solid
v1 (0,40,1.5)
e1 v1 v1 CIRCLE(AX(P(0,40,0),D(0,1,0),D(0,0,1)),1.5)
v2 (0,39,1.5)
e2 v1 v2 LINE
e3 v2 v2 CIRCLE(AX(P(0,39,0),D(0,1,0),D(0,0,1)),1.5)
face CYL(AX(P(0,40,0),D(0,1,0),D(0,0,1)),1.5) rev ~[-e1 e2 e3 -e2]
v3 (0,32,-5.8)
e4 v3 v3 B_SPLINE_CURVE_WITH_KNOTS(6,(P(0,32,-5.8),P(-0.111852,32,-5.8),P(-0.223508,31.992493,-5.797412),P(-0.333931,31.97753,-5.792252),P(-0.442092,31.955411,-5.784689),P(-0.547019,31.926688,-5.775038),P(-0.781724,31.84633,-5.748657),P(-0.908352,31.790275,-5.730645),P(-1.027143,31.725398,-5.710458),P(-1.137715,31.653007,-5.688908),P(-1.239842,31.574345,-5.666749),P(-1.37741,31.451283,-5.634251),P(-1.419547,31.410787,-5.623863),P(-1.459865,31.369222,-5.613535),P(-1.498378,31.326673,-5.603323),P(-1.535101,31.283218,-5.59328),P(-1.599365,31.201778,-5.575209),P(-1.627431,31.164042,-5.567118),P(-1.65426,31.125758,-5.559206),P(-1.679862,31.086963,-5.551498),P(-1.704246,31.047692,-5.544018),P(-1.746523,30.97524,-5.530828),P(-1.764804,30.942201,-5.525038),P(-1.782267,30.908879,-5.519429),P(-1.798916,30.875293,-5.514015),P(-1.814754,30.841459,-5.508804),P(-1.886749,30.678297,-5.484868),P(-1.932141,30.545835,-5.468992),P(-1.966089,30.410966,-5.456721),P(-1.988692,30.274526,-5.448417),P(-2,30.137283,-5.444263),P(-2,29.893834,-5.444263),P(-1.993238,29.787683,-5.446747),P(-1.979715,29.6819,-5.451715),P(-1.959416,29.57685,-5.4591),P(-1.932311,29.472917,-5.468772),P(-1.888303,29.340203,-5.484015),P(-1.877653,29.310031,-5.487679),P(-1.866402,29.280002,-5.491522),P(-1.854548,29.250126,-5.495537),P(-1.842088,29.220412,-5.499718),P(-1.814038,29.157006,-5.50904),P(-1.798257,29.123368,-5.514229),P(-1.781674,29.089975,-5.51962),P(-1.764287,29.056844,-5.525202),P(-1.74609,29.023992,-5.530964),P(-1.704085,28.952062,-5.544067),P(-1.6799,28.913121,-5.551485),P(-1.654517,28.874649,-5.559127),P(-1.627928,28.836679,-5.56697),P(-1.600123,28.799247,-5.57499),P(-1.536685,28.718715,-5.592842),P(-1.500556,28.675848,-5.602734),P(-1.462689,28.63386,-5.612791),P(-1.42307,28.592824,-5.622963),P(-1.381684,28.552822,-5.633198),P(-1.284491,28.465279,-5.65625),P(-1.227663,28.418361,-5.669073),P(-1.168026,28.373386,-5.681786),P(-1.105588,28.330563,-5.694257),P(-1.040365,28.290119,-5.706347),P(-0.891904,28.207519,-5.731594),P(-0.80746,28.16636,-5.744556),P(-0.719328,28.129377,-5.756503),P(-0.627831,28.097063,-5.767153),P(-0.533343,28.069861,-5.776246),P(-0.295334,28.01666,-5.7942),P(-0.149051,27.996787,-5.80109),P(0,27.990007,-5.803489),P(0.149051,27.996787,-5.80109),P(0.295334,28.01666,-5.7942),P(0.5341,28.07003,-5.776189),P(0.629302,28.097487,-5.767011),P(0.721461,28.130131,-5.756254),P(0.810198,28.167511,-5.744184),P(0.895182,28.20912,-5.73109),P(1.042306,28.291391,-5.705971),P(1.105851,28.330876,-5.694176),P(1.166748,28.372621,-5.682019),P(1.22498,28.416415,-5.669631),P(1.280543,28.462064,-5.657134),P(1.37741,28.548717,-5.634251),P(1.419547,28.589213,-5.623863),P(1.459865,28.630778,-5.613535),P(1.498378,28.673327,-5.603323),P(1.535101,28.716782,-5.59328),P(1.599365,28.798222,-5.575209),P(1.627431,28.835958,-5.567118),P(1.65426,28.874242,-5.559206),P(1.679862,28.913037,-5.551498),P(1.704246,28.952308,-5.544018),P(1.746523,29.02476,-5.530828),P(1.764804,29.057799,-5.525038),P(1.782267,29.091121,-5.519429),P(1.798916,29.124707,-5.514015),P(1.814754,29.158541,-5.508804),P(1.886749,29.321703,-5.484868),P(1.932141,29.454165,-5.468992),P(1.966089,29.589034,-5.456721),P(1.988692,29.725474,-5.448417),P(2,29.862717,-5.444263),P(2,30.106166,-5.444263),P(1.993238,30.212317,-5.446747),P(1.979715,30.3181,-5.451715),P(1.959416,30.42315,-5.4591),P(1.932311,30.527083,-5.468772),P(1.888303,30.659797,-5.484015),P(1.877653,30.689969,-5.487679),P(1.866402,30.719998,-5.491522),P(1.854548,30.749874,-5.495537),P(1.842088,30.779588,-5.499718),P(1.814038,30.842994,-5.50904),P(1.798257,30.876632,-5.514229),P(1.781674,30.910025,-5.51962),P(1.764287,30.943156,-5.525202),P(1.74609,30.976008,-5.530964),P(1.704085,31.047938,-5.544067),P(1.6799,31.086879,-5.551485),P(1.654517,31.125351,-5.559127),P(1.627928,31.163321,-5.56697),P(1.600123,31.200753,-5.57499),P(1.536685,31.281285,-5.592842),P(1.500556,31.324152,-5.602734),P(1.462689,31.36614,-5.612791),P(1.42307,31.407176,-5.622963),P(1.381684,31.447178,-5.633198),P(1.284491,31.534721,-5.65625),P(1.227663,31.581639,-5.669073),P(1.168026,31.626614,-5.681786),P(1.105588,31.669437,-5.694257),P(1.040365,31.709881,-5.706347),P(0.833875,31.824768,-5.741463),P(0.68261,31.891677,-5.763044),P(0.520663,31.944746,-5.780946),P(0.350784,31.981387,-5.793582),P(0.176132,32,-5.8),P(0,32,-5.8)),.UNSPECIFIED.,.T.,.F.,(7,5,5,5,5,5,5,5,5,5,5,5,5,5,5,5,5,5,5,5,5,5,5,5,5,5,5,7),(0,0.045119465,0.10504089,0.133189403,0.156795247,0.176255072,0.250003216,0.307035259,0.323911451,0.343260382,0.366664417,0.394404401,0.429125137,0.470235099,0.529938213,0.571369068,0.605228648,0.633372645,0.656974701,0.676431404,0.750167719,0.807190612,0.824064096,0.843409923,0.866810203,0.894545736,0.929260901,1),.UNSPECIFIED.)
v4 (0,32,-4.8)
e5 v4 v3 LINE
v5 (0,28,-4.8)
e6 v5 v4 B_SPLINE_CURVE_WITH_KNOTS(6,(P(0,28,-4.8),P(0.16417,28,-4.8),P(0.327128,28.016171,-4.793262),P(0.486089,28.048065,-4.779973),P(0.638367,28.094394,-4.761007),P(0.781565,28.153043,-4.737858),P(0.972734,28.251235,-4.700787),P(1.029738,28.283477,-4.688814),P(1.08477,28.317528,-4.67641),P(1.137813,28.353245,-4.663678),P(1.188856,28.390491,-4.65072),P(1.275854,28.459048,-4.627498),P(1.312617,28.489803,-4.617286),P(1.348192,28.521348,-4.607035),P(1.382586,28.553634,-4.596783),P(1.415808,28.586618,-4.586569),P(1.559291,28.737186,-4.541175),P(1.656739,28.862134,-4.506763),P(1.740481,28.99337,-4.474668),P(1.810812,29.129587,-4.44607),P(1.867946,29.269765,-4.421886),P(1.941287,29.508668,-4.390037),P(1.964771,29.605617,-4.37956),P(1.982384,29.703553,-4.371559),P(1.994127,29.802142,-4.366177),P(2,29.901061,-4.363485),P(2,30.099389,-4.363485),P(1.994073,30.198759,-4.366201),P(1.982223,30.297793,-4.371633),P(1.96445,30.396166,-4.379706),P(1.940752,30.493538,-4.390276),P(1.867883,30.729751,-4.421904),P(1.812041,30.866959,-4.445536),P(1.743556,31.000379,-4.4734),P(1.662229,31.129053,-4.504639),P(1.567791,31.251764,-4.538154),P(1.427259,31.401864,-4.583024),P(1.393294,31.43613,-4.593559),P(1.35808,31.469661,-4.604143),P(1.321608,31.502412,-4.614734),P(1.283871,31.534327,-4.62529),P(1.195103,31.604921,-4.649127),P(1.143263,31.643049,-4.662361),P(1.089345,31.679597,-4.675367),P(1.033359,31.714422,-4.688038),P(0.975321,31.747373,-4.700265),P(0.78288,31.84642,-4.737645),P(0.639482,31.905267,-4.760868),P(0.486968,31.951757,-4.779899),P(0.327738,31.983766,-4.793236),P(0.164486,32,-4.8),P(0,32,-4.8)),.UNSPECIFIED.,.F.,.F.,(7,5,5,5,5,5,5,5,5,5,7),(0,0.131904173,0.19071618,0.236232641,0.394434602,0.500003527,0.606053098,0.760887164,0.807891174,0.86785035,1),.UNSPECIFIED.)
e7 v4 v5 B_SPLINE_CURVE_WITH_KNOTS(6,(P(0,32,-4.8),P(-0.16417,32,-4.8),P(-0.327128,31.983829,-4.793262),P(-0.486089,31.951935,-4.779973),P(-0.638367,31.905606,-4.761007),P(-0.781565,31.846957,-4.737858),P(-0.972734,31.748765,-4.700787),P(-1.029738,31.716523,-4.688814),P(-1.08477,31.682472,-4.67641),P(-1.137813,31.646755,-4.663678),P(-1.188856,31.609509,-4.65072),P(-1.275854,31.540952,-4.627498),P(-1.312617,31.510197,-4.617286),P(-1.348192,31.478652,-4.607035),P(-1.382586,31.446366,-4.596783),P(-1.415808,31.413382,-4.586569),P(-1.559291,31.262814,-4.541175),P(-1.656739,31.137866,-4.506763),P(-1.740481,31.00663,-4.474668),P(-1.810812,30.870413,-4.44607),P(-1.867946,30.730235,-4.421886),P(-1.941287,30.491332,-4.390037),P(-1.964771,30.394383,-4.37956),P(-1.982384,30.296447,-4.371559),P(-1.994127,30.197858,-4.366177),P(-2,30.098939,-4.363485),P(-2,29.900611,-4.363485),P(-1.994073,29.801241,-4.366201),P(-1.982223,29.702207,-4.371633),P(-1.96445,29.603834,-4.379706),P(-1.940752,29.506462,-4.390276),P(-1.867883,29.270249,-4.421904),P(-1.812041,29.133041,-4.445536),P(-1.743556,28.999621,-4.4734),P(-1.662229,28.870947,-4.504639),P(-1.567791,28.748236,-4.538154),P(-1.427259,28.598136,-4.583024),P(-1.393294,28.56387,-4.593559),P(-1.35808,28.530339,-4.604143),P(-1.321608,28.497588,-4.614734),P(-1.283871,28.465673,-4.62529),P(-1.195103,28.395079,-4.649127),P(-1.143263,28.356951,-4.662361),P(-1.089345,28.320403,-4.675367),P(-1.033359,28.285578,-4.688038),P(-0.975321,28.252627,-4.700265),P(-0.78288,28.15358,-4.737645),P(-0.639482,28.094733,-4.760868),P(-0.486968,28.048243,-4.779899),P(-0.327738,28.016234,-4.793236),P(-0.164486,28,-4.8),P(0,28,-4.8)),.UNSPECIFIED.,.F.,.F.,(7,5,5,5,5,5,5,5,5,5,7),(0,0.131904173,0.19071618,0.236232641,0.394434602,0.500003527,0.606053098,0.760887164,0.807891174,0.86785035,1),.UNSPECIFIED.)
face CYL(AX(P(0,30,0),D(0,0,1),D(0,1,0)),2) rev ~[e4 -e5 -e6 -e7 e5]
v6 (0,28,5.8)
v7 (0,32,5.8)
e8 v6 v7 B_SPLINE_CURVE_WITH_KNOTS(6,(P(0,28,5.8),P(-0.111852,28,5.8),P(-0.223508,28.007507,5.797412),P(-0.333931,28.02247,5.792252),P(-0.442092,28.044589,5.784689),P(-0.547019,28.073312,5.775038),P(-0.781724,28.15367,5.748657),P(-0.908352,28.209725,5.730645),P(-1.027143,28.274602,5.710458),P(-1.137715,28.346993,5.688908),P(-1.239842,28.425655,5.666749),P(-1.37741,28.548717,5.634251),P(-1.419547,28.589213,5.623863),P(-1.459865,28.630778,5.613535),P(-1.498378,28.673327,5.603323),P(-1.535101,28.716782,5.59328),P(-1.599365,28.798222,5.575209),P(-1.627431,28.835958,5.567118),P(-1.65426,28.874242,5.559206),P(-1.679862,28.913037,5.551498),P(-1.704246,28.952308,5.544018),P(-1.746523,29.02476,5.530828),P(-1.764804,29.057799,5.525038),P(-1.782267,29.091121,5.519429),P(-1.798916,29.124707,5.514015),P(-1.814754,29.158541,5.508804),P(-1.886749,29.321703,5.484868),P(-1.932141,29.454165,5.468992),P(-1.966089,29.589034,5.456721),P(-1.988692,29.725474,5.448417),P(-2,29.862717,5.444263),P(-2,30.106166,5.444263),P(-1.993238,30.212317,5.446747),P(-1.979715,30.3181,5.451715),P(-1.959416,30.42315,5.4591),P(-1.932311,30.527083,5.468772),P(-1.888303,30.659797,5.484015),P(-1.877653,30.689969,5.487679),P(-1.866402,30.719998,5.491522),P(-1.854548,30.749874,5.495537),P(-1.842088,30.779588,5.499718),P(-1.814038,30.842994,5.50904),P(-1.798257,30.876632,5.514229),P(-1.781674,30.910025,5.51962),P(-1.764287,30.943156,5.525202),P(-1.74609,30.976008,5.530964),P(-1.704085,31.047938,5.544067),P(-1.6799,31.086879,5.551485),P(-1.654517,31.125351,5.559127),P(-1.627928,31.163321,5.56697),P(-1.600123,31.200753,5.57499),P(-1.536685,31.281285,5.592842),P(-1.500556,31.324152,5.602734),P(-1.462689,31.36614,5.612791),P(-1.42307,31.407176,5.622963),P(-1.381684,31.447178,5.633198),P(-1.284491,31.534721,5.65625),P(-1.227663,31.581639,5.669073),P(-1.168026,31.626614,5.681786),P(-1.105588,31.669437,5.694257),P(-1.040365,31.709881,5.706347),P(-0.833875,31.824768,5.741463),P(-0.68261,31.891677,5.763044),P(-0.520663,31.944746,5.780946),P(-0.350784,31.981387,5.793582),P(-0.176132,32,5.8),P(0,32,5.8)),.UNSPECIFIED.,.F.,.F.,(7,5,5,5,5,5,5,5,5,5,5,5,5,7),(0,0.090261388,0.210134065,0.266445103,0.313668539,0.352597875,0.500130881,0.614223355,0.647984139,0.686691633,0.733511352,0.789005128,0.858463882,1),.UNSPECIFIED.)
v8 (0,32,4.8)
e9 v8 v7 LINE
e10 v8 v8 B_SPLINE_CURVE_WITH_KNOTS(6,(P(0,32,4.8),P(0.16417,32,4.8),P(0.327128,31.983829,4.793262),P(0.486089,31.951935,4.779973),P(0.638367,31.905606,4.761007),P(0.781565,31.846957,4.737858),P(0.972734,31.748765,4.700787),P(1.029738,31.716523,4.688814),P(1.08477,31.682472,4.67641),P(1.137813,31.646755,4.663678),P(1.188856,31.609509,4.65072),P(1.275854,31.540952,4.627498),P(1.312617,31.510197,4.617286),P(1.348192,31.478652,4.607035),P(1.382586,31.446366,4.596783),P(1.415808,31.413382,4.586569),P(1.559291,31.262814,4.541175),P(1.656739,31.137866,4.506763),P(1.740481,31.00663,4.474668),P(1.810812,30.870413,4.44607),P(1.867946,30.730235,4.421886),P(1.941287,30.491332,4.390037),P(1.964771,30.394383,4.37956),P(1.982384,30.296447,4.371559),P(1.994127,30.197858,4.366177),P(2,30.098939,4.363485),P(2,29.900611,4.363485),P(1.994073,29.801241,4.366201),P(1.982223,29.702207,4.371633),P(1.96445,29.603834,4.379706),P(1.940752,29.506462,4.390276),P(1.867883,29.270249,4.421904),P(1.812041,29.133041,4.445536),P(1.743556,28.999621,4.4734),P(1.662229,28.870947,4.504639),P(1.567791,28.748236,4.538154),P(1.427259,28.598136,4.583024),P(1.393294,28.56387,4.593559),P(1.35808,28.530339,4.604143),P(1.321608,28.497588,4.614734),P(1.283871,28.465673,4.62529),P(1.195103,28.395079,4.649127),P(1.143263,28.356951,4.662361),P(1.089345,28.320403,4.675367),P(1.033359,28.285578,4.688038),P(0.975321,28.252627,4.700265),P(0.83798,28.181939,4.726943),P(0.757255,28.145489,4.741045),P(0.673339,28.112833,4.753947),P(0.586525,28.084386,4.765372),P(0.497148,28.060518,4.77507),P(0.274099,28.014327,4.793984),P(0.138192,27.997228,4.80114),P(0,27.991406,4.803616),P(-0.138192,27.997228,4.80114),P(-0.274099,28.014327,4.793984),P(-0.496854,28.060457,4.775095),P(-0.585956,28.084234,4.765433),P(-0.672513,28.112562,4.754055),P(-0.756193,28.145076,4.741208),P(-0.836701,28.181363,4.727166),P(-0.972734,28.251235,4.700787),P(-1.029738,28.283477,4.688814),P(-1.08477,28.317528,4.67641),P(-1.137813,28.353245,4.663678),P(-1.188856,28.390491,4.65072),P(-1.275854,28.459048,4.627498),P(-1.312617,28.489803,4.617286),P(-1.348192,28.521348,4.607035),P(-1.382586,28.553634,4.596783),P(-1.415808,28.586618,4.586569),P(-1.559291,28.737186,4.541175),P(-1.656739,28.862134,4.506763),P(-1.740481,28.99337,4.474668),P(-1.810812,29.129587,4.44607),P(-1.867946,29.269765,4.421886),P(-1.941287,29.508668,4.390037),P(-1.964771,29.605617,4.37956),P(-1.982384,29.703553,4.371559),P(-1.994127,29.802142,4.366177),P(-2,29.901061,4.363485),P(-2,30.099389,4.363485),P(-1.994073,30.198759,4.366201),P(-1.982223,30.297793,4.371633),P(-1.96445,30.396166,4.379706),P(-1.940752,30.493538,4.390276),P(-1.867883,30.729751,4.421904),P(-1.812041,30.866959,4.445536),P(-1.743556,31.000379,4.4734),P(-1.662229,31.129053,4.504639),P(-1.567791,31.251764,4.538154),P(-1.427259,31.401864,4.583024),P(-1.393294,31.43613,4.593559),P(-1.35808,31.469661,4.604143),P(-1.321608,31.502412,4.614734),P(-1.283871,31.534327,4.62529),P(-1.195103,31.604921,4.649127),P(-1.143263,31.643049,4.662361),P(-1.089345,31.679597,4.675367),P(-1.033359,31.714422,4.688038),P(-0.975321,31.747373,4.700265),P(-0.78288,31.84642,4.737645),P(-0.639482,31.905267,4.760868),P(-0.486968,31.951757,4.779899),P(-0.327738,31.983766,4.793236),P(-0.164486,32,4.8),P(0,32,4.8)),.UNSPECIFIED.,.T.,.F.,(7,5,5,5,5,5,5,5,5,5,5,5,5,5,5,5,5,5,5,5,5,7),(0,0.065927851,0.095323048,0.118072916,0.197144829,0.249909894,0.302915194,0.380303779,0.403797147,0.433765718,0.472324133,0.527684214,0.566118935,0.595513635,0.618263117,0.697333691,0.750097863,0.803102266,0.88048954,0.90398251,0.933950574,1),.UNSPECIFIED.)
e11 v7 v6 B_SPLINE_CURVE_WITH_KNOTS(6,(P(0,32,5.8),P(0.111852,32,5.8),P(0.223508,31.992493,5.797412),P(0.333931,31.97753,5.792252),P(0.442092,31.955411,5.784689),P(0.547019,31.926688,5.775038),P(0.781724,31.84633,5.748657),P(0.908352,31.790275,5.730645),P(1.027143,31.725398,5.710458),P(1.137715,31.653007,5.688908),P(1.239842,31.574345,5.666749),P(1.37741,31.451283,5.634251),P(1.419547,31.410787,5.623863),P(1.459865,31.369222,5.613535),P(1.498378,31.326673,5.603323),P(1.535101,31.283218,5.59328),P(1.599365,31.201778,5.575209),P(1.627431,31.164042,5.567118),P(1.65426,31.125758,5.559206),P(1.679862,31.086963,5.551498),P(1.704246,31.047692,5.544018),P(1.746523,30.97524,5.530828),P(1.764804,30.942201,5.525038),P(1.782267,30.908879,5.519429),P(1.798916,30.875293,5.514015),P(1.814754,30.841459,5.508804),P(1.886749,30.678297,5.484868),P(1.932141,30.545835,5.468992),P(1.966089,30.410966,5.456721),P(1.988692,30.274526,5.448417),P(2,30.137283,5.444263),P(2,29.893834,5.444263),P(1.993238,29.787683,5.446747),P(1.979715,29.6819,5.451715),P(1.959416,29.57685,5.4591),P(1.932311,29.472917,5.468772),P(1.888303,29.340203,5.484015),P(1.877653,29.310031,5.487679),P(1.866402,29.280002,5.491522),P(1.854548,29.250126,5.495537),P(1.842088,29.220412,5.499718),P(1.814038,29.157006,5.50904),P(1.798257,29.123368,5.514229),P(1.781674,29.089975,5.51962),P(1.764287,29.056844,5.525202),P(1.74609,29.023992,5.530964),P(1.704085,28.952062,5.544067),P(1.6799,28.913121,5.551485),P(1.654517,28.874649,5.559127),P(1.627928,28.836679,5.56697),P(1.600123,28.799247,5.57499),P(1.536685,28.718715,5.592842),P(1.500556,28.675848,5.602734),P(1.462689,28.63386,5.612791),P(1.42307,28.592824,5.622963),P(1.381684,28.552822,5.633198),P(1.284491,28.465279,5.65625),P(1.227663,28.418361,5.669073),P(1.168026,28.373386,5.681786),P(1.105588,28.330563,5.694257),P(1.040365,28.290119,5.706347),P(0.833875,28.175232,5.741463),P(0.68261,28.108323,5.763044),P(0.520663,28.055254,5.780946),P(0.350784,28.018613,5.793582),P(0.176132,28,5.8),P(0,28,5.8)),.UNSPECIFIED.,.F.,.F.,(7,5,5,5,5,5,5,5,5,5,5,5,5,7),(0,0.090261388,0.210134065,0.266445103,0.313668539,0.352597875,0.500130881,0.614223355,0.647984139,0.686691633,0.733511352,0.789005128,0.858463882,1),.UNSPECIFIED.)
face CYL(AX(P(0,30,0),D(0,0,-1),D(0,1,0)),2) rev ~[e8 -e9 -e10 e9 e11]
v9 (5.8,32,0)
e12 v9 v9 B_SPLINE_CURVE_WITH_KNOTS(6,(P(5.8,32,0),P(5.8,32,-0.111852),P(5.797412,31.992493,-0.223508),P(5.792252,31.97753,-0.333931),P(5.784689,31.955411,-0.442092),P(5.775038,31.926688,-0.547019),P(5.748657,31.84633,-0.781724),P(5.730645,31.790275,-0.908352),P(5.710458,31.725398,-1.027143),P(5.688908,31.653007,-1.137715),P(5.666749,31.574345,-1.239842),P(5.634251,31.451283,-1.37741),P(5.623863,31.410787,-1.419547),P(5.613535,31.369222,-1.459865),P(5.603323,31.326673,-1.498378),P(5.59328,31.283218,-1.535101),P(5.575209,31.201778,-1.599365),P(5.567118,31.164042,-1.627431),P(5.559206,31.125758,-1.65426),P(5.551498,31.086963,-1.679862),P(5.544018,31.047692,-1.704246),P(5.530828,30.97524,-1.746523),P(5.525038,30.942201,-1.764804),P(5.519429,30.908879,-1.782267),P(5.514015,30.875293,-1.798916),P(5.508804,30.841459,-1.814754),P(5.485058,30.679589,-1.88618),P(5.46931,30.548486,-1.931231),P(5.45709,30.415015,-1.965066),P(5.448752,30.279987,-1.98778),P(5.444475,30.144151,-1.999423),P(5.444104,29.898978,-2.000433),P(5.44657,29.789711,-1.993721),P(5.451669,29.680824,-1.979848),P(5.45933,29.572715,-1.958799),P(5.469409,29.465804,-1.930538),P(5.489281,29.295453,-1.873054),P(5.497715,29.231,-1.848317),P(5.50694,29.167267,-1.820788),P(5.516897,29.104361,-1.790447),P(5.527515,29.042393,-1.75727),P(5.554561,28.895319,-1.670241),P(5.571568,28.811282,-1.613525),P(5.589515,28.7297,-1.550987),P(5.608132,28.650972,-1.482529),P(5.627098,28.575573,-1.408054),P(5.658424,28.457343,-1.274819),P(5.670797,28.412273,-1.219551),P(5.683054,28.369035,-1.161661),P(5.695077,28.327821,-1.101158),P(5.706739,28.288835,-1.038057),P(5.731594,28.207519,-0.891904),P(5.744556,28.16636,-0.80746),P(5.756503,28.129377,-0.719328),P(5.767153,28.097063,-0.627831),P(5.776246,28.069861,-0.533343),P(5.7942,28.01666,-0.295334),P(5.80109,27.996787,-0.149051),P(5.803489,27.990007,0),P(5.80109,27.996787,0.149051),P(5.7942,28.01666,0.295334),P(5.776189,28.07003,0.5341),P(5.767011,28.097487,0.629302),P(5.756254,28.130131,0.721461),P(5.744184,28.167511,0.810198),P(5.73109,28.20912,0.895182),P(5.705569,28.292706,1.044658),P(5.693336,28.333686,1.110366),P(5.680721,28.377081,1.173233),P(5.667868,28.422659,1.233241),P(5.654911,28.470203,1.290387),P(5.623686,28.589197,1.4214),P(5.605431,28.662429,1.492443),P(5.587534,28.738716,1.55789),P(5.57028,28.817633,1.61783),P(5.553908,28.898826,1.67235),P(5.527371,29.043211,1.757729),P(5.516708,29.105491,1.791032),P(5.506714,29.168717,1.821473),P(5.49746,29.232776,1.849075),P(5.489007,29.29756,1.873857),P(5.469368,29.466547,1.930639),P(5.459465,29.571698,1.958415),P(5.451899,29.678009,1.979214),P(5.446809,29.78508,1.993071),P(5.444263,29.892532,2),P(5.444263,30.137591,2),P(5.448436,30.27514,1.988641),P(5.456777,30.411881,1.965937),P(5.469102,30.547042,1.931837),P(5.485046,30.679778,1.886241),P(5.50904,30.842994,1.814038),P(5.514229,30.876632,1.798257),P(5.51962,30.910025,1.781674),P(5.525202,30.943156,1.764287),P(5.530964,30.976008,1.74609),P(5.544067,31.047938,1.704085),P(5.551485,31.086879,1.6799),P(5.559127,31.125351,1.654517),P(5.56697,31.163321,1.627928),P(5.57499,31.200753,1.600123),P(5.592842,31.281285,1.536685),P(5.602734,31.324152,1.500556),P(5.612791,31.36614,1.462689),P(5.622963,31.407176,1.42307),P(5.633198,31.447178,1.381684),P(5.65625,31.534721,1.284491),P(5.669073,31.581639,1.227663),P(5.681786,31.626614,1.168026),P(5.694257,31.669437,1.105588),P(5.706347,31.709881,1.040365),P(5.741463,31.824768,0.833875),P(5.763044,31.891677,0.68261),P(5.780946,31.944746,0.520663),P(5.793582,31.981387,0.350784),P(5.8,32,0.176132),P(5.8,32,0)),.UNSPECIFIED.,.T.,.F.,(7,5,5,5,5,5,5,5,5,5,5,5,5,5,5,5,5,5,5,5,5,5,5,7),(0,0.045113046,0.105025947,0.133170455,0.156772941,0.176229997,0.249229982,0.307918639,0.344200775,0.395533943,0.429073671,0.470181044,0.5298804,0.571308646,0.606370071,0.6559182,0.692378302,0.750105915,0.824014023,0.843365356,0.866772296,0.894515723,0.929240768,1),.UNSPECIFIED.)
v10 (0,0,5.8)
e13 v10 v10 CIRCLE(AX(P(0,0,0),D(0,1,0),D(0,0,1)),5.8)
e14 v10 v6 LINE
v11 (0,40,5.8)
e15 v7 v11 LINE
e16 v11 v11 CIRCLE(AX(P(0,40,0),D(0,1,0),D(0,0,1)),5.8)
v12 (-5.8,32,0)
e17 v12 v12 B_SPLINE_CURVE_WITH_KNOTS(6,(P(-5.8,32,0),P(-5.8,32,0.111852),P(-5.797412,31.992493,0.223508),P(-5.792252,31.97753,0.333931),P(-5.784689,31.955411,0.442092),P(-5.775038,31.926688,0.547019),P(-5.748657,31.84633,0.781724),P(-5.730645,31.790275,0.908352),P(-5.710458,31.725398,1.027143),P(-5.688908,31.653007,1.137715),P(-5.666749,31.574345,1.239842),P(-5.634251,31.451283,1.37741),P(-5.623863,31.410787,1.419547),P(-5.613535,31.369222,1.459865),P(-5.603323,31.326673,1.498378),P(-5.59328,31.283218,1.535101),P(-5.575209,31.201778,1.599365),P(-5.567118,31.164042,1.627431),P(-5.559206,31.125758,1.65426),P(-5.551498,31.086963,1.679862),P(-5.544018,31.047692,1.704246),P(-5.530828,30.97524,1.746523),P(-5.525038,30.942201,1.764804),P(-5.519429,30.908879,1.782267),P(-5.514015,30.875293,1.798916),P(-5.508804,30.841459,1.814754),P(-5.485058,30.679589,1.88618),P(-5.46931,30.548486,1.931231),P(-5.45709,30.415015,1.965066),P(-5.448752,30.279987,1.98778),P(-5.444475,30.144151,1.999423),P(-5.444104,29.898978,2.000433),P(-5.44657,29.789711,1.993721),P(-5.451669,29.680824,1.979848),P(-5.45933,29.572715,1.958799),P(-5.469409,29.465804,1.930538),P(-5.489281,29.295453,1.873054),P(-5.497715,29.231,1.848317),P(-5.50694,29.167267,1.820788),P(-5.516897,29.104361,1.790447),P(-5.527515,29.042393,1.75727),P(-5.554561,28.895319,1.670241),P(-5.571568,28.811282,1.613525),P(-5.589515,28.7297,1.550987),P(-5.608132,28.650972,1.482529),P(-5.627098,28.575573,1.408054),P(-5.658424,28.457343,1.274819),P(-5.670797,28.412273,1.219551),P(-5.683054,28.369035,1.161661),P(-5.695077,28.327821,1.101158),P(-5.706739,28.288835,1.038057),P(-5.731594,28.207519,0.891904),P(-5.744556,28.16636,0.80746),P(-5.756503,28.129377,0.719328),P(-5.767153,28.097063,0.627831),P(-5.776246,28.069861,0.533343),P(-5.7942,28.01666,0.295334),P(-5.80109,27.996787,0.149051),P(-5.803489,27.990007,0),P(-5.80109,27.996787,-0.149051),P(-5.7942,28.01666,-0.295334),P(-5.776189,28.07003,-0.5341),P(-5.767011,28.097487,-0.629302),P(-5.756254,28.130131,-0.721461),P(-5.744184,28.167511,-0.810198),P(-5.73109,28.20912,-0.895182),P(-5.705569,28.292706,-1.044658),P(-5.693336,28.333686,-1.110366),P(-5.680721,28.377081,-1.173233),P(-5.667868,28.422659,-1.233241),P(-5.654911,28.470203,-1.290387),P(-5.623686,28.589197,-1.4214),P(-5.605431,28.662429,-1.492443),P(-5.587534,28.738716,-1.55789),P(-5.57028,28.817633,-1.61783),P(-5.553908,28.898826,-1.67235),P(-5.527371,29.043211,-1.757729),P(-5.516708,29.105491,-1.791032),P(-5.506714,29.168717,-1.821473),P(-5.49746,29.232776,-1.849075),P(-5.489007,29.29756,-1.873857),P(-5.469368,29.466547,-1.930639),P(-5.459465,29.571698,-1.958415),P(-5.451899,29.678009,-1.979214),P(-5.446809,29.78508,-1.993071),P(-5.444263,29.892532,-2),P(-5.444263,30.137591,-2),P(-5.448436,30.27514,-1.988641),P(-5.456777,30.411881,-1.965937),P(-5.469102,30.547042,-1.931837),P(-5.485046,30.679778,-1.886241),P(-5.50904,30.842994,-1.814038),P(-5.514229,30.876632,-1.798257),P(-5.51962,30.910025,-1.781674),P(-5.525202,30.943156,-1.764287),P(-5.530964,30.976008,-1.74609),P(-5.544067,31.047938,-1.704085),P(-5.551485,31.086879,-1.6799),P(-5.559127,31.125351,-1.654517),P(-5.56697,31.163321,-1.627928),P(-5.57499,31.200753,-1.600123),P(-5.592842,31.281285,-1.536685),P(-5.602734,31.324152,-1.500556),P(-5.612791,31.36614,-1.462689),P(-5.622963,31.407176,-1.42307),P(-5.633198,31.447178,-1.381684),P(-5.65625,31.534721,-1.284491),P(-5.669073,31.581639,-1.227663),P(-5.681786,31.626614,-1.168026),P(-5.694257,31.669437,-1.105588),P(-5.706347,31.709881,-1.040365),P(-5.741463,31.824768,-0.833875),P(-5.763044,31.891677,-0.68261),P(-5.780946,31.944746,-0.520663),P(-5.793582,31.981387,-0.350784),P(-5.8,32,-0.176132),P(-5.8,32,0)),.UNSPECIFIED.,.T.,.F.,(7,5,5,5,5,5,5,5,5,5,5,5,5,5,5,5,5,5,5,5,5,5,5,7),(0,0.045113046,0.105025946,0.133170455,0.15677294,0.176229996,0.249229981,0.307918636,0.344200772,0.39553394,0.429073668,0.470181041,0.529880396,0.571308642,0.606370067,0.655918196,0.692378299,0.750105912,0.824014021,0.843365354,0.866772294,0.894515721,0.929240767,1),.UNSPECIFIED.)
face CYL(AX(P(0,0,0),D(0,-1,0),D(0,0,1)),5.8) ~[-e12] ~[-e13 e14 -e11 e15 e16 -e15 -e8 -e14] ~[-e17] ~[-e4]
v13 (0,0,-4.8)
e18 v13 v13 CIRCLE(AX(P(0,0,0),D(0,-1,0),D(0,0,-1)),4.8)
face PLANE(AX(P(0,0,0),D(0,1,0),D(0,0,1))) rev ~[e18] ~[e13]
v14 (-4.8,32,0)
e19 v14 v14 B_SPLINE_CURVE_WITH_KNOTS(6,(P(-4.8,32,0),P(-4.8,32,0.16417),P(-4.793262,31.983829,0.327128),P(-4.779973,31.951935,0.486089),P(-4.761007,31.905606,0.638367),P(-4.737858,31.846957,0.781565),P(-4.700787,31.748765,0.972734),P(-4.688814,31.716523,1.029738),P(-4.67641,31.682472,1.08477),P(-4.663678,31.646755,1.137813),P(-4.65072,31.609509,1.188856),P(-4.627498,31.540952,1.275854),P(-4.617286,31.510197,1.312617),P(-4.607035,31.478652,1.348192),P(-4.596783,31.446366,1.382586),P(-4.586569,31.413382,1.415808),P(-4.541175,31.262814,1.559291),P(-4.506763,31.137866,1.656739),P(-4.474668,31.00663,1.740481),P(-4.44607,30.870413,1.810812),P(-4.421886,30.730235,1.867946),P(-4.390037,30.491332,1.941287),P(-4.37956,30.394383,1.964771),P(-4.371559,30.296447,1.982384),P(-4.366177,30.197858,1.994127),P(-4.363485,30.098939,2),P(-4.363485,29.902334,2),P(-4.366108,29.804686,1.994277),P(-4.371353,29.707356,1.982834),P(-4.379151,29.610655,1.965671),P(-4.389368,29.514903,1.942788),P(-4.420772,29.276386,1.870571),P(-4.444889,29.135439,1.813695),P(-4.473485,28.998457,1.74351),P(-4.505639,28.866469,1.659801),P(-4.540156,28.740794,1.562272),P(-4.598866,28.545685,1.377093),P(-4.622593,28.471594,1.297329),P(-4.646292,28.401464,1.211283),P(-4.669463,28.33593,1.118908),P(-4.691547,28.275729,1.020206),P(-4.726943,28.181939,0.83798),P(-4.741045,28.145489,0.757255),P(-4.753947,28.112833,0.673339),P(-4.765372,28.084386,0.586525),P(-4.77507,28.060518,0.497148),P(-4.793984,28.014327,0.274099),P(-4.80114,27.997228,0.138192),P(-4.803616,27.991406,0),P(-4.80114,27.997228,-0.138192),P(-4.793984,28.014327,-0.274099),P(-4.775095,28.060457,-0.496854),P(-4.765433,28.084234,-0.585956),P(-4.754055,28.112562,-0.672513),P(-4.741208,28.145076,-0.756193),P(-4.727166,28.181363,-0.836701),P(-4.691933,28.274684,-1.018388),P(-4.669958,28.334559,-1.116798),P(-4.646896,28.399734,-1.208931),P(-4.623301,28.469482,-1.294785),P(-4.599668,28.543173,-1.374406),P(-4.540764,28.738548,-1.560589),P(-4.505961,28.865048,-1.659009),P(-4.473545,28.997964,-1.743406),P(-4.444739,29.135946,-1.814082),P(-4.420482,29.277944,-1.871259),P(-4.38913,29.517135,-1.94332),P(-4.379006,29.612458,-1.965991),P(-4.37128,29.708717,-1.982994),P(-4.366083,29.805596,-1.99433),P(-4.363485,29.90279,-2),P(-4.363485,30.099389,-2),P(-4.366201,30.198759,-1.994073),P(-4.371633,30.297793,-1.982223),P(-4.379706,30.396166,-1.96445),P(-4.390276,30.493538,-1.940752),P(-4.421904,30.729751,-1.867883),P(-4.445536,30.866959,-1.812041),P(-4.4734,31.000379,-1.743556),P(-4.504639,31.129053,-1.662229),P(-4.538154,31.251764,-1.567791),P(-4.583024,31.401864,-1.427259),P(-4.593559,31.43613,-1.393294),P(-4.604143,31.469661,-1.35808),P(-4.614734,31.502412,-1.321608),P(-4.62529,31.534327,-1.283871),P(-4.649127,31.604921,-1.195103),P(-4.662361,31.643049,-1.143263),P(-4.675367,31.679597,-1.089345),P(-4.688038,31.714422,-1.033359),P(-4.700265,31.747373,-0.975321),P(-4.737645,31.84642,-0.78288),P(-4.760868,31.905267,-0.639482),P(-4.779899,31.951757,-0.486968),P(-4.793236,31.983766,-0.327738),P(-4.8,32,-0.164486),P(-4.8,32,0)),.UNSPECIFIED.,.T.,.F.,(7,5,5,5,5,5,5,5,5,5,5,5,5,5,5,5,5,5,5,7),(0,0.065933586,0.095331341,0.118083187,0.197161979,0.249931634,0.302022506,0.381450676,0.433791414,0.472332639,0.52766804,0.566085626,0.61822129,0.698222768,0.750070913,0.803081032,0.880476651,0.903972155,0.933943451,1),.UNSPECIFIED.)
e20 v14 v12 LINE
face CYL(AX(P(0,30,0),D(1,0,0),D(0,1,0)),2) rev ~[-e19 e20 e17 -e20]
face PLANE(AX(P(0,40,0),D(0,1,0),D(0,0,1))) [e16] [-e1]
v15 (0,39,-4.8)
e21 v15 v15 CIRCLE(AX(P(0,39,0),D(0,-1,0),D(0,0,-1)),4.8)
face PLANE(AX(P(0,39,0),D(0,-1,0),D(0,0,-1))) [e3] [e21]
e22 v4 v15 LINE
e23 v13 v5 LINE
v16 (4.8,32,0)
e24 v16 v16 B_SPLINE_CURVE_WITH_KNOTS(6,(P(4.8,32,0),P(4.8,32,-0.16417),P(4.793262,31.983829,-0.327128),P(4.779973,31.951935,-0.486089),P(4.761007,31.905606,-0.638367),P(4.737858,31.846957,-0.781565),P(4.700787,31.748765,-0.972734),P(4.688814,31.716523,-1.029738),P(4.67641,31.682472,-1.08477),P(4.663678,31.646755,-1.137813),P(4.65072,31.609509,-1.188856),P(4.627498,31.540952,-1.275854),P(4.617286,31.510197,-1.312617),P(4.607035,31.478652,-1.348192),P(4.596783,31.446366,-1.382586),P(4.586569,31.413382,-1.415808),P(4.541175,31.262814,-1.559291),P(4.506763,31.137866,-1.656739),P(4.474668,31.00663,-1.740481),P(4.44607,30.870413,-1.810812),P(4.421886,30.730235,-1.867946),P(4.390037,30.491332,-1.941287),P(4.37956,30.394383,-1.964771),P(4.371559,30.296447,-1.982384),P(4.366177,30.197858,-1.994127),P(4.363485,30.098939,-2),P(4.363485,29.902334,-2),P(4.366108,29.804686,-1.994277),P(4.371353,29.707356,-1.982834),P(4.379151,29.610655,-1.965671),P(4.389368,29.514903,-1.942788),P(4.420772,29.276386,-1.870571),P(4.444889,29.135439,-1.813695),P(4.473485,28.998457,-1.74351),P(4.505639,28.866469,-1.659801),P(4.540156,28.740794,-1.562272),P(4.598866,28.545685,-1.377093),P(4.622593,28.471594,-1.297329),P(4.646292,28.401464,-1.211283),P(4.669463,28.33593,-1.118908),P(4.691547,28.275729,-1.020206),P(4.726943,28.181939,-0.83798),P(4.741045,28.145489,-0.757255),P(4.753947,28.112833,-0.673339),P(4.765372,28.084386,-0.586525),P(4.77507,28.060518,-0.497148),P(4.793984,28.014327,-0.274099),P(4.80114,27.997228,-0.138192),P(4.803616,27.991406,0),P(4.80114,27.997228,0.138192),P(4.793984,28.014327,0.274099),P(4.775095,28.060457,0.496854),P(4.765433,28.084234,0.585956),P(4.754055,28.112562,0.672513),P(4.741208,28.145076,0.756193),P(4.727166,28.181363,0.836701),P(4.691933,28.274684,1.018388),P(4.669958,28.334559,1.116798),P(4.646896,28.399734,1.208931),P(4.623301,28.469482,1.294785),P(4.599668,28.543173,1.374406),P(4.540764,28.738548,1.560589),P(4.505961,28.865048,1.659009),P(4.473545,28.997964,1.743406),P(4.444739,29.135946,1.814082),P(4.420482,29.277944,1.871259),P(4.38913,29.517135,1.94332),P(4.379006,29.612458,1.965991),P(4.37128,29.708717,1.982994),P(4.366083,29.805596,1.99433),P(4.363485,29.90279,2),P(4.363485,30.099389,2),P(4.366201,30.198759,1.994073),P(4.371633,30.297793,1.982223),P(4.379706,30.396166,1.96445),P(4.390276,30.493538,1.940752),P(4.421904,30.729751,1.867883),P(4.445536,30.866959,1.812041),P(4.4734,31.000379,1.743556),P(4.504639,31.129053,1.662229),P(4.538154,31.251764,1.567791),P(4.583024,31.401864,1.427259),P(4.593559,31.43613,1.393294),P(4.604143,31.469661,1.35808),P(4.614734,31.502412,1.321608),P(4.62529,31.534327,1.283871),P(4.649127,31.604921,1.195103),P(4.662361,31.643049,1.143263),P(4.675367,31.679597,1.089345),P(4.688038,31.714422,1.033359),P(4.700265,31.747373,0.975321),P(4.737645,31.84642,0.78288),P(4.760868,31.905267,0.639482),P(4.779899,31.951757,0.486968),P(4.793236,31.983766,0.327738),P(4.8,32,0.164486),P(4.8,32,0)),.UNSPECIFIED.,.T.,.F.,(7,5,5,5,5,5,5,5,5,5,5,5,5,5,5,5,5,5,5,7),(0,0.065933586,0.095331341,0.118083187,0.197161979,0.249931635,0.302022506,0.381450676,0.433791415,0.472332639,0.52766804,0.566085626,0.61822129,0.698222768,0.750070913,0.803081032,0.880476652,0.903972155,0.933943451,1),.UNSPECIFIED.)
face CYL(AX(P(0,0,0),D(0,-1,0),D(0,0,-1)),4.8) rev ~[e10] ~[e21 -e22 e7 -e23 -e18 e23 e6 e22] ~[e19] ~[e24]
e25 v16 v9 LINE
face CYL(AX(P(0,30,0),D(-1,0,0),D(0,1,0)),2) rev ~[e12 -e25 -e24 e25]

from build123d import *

# Parameters (mm, degrees)
SKETCH1_R           = 5.8
BOSS_EXTRUDE1_DEPTH = 40
SKETCH3_R           = 4.8
CUT_EXTRUDE1_DEPTH  = 39
SKETCH6_R           = 2
CUT_EXTRUDE3_DEPTH  = 41.832340124
CIRPATTERN1_COUNT   = 4
CUT_EXTRUDE4_REACH  = 42.832
SKETCH7_R           = 1.5


with BuildPart() as part:
    # Sketch1 → Boss-Extrude1 (new body)
    with BuildSketch(Plane(origin=(0, 0, 0), x_dir=(1, 0, 0), z_dir=(0, 1, 0))):
        with Locations(Location((0, 0, 0), (0, 0, 270))):
            Circle(SKETCH1_R)
    extrude(amount=BOSS_EXTRUDE1_DEPTH)

    # Sketch3 → Cut-Extrude1 (cut)
    with BuildSketch(Plane.XZ):
        with Locations(Location((0, 0, 0), (0, 0, 270))):
            Circle(SKETCH3_R)
    extrude(amount=-CUT_EXTRUDE1_DEPTH, mode=Mode.SUBTRACT)

    # Sketch6 → Cut-Extrude3 (cut, through all)
    with BuildSketch(Plane.XY):
        with Locations(Location((0, 30, 0), (0, 0, 90))):
            Circle(SKETCH6_R)
    cut_extrude3 = extrude(amount=-CUT_EXTRUDE3_DEPTH, mode=Mode.SUBTRACT)

    # CirPattern1: Cut-Extrude3 ×4 about axis
    cirpattern1_axis = Axis((0, 40, 0), (0, -1, 0))
    for i in range(1, CIRPATTERN1_COUNT):
        add(cut_extrude3.rotate(cirpattern1_axis, i * 360 / CIRPATTERN1_COUNT), mode=Mode.SUBTRACT)

    # Sketch7 → Cut-Extrude4 (cut, up to next)
    with BuildSketch(Plane(origin=(0, 40, 0), x_dir=(1, 0, 0), z_dir=(0, 1, 0)), mode=Mode.PRIVATE) as cut_extrude4_sk1:
        with Locations(Location((0, 0, 0), (0, 0, 270))):
            Circle(SKETCH7_R)
    cut_extrude4_tool1 = extrude(cut_extrude4_sk1.sketch, amount=-CUT_EXTRUDE4_REACH, mode=Mode.PRIVATE) & part.part
    add(cut_extrude4_tool1.solids().sort_by_distance((0, 40, 0))[0], mode=Mode.SUBTRACT)


solid = part.part
